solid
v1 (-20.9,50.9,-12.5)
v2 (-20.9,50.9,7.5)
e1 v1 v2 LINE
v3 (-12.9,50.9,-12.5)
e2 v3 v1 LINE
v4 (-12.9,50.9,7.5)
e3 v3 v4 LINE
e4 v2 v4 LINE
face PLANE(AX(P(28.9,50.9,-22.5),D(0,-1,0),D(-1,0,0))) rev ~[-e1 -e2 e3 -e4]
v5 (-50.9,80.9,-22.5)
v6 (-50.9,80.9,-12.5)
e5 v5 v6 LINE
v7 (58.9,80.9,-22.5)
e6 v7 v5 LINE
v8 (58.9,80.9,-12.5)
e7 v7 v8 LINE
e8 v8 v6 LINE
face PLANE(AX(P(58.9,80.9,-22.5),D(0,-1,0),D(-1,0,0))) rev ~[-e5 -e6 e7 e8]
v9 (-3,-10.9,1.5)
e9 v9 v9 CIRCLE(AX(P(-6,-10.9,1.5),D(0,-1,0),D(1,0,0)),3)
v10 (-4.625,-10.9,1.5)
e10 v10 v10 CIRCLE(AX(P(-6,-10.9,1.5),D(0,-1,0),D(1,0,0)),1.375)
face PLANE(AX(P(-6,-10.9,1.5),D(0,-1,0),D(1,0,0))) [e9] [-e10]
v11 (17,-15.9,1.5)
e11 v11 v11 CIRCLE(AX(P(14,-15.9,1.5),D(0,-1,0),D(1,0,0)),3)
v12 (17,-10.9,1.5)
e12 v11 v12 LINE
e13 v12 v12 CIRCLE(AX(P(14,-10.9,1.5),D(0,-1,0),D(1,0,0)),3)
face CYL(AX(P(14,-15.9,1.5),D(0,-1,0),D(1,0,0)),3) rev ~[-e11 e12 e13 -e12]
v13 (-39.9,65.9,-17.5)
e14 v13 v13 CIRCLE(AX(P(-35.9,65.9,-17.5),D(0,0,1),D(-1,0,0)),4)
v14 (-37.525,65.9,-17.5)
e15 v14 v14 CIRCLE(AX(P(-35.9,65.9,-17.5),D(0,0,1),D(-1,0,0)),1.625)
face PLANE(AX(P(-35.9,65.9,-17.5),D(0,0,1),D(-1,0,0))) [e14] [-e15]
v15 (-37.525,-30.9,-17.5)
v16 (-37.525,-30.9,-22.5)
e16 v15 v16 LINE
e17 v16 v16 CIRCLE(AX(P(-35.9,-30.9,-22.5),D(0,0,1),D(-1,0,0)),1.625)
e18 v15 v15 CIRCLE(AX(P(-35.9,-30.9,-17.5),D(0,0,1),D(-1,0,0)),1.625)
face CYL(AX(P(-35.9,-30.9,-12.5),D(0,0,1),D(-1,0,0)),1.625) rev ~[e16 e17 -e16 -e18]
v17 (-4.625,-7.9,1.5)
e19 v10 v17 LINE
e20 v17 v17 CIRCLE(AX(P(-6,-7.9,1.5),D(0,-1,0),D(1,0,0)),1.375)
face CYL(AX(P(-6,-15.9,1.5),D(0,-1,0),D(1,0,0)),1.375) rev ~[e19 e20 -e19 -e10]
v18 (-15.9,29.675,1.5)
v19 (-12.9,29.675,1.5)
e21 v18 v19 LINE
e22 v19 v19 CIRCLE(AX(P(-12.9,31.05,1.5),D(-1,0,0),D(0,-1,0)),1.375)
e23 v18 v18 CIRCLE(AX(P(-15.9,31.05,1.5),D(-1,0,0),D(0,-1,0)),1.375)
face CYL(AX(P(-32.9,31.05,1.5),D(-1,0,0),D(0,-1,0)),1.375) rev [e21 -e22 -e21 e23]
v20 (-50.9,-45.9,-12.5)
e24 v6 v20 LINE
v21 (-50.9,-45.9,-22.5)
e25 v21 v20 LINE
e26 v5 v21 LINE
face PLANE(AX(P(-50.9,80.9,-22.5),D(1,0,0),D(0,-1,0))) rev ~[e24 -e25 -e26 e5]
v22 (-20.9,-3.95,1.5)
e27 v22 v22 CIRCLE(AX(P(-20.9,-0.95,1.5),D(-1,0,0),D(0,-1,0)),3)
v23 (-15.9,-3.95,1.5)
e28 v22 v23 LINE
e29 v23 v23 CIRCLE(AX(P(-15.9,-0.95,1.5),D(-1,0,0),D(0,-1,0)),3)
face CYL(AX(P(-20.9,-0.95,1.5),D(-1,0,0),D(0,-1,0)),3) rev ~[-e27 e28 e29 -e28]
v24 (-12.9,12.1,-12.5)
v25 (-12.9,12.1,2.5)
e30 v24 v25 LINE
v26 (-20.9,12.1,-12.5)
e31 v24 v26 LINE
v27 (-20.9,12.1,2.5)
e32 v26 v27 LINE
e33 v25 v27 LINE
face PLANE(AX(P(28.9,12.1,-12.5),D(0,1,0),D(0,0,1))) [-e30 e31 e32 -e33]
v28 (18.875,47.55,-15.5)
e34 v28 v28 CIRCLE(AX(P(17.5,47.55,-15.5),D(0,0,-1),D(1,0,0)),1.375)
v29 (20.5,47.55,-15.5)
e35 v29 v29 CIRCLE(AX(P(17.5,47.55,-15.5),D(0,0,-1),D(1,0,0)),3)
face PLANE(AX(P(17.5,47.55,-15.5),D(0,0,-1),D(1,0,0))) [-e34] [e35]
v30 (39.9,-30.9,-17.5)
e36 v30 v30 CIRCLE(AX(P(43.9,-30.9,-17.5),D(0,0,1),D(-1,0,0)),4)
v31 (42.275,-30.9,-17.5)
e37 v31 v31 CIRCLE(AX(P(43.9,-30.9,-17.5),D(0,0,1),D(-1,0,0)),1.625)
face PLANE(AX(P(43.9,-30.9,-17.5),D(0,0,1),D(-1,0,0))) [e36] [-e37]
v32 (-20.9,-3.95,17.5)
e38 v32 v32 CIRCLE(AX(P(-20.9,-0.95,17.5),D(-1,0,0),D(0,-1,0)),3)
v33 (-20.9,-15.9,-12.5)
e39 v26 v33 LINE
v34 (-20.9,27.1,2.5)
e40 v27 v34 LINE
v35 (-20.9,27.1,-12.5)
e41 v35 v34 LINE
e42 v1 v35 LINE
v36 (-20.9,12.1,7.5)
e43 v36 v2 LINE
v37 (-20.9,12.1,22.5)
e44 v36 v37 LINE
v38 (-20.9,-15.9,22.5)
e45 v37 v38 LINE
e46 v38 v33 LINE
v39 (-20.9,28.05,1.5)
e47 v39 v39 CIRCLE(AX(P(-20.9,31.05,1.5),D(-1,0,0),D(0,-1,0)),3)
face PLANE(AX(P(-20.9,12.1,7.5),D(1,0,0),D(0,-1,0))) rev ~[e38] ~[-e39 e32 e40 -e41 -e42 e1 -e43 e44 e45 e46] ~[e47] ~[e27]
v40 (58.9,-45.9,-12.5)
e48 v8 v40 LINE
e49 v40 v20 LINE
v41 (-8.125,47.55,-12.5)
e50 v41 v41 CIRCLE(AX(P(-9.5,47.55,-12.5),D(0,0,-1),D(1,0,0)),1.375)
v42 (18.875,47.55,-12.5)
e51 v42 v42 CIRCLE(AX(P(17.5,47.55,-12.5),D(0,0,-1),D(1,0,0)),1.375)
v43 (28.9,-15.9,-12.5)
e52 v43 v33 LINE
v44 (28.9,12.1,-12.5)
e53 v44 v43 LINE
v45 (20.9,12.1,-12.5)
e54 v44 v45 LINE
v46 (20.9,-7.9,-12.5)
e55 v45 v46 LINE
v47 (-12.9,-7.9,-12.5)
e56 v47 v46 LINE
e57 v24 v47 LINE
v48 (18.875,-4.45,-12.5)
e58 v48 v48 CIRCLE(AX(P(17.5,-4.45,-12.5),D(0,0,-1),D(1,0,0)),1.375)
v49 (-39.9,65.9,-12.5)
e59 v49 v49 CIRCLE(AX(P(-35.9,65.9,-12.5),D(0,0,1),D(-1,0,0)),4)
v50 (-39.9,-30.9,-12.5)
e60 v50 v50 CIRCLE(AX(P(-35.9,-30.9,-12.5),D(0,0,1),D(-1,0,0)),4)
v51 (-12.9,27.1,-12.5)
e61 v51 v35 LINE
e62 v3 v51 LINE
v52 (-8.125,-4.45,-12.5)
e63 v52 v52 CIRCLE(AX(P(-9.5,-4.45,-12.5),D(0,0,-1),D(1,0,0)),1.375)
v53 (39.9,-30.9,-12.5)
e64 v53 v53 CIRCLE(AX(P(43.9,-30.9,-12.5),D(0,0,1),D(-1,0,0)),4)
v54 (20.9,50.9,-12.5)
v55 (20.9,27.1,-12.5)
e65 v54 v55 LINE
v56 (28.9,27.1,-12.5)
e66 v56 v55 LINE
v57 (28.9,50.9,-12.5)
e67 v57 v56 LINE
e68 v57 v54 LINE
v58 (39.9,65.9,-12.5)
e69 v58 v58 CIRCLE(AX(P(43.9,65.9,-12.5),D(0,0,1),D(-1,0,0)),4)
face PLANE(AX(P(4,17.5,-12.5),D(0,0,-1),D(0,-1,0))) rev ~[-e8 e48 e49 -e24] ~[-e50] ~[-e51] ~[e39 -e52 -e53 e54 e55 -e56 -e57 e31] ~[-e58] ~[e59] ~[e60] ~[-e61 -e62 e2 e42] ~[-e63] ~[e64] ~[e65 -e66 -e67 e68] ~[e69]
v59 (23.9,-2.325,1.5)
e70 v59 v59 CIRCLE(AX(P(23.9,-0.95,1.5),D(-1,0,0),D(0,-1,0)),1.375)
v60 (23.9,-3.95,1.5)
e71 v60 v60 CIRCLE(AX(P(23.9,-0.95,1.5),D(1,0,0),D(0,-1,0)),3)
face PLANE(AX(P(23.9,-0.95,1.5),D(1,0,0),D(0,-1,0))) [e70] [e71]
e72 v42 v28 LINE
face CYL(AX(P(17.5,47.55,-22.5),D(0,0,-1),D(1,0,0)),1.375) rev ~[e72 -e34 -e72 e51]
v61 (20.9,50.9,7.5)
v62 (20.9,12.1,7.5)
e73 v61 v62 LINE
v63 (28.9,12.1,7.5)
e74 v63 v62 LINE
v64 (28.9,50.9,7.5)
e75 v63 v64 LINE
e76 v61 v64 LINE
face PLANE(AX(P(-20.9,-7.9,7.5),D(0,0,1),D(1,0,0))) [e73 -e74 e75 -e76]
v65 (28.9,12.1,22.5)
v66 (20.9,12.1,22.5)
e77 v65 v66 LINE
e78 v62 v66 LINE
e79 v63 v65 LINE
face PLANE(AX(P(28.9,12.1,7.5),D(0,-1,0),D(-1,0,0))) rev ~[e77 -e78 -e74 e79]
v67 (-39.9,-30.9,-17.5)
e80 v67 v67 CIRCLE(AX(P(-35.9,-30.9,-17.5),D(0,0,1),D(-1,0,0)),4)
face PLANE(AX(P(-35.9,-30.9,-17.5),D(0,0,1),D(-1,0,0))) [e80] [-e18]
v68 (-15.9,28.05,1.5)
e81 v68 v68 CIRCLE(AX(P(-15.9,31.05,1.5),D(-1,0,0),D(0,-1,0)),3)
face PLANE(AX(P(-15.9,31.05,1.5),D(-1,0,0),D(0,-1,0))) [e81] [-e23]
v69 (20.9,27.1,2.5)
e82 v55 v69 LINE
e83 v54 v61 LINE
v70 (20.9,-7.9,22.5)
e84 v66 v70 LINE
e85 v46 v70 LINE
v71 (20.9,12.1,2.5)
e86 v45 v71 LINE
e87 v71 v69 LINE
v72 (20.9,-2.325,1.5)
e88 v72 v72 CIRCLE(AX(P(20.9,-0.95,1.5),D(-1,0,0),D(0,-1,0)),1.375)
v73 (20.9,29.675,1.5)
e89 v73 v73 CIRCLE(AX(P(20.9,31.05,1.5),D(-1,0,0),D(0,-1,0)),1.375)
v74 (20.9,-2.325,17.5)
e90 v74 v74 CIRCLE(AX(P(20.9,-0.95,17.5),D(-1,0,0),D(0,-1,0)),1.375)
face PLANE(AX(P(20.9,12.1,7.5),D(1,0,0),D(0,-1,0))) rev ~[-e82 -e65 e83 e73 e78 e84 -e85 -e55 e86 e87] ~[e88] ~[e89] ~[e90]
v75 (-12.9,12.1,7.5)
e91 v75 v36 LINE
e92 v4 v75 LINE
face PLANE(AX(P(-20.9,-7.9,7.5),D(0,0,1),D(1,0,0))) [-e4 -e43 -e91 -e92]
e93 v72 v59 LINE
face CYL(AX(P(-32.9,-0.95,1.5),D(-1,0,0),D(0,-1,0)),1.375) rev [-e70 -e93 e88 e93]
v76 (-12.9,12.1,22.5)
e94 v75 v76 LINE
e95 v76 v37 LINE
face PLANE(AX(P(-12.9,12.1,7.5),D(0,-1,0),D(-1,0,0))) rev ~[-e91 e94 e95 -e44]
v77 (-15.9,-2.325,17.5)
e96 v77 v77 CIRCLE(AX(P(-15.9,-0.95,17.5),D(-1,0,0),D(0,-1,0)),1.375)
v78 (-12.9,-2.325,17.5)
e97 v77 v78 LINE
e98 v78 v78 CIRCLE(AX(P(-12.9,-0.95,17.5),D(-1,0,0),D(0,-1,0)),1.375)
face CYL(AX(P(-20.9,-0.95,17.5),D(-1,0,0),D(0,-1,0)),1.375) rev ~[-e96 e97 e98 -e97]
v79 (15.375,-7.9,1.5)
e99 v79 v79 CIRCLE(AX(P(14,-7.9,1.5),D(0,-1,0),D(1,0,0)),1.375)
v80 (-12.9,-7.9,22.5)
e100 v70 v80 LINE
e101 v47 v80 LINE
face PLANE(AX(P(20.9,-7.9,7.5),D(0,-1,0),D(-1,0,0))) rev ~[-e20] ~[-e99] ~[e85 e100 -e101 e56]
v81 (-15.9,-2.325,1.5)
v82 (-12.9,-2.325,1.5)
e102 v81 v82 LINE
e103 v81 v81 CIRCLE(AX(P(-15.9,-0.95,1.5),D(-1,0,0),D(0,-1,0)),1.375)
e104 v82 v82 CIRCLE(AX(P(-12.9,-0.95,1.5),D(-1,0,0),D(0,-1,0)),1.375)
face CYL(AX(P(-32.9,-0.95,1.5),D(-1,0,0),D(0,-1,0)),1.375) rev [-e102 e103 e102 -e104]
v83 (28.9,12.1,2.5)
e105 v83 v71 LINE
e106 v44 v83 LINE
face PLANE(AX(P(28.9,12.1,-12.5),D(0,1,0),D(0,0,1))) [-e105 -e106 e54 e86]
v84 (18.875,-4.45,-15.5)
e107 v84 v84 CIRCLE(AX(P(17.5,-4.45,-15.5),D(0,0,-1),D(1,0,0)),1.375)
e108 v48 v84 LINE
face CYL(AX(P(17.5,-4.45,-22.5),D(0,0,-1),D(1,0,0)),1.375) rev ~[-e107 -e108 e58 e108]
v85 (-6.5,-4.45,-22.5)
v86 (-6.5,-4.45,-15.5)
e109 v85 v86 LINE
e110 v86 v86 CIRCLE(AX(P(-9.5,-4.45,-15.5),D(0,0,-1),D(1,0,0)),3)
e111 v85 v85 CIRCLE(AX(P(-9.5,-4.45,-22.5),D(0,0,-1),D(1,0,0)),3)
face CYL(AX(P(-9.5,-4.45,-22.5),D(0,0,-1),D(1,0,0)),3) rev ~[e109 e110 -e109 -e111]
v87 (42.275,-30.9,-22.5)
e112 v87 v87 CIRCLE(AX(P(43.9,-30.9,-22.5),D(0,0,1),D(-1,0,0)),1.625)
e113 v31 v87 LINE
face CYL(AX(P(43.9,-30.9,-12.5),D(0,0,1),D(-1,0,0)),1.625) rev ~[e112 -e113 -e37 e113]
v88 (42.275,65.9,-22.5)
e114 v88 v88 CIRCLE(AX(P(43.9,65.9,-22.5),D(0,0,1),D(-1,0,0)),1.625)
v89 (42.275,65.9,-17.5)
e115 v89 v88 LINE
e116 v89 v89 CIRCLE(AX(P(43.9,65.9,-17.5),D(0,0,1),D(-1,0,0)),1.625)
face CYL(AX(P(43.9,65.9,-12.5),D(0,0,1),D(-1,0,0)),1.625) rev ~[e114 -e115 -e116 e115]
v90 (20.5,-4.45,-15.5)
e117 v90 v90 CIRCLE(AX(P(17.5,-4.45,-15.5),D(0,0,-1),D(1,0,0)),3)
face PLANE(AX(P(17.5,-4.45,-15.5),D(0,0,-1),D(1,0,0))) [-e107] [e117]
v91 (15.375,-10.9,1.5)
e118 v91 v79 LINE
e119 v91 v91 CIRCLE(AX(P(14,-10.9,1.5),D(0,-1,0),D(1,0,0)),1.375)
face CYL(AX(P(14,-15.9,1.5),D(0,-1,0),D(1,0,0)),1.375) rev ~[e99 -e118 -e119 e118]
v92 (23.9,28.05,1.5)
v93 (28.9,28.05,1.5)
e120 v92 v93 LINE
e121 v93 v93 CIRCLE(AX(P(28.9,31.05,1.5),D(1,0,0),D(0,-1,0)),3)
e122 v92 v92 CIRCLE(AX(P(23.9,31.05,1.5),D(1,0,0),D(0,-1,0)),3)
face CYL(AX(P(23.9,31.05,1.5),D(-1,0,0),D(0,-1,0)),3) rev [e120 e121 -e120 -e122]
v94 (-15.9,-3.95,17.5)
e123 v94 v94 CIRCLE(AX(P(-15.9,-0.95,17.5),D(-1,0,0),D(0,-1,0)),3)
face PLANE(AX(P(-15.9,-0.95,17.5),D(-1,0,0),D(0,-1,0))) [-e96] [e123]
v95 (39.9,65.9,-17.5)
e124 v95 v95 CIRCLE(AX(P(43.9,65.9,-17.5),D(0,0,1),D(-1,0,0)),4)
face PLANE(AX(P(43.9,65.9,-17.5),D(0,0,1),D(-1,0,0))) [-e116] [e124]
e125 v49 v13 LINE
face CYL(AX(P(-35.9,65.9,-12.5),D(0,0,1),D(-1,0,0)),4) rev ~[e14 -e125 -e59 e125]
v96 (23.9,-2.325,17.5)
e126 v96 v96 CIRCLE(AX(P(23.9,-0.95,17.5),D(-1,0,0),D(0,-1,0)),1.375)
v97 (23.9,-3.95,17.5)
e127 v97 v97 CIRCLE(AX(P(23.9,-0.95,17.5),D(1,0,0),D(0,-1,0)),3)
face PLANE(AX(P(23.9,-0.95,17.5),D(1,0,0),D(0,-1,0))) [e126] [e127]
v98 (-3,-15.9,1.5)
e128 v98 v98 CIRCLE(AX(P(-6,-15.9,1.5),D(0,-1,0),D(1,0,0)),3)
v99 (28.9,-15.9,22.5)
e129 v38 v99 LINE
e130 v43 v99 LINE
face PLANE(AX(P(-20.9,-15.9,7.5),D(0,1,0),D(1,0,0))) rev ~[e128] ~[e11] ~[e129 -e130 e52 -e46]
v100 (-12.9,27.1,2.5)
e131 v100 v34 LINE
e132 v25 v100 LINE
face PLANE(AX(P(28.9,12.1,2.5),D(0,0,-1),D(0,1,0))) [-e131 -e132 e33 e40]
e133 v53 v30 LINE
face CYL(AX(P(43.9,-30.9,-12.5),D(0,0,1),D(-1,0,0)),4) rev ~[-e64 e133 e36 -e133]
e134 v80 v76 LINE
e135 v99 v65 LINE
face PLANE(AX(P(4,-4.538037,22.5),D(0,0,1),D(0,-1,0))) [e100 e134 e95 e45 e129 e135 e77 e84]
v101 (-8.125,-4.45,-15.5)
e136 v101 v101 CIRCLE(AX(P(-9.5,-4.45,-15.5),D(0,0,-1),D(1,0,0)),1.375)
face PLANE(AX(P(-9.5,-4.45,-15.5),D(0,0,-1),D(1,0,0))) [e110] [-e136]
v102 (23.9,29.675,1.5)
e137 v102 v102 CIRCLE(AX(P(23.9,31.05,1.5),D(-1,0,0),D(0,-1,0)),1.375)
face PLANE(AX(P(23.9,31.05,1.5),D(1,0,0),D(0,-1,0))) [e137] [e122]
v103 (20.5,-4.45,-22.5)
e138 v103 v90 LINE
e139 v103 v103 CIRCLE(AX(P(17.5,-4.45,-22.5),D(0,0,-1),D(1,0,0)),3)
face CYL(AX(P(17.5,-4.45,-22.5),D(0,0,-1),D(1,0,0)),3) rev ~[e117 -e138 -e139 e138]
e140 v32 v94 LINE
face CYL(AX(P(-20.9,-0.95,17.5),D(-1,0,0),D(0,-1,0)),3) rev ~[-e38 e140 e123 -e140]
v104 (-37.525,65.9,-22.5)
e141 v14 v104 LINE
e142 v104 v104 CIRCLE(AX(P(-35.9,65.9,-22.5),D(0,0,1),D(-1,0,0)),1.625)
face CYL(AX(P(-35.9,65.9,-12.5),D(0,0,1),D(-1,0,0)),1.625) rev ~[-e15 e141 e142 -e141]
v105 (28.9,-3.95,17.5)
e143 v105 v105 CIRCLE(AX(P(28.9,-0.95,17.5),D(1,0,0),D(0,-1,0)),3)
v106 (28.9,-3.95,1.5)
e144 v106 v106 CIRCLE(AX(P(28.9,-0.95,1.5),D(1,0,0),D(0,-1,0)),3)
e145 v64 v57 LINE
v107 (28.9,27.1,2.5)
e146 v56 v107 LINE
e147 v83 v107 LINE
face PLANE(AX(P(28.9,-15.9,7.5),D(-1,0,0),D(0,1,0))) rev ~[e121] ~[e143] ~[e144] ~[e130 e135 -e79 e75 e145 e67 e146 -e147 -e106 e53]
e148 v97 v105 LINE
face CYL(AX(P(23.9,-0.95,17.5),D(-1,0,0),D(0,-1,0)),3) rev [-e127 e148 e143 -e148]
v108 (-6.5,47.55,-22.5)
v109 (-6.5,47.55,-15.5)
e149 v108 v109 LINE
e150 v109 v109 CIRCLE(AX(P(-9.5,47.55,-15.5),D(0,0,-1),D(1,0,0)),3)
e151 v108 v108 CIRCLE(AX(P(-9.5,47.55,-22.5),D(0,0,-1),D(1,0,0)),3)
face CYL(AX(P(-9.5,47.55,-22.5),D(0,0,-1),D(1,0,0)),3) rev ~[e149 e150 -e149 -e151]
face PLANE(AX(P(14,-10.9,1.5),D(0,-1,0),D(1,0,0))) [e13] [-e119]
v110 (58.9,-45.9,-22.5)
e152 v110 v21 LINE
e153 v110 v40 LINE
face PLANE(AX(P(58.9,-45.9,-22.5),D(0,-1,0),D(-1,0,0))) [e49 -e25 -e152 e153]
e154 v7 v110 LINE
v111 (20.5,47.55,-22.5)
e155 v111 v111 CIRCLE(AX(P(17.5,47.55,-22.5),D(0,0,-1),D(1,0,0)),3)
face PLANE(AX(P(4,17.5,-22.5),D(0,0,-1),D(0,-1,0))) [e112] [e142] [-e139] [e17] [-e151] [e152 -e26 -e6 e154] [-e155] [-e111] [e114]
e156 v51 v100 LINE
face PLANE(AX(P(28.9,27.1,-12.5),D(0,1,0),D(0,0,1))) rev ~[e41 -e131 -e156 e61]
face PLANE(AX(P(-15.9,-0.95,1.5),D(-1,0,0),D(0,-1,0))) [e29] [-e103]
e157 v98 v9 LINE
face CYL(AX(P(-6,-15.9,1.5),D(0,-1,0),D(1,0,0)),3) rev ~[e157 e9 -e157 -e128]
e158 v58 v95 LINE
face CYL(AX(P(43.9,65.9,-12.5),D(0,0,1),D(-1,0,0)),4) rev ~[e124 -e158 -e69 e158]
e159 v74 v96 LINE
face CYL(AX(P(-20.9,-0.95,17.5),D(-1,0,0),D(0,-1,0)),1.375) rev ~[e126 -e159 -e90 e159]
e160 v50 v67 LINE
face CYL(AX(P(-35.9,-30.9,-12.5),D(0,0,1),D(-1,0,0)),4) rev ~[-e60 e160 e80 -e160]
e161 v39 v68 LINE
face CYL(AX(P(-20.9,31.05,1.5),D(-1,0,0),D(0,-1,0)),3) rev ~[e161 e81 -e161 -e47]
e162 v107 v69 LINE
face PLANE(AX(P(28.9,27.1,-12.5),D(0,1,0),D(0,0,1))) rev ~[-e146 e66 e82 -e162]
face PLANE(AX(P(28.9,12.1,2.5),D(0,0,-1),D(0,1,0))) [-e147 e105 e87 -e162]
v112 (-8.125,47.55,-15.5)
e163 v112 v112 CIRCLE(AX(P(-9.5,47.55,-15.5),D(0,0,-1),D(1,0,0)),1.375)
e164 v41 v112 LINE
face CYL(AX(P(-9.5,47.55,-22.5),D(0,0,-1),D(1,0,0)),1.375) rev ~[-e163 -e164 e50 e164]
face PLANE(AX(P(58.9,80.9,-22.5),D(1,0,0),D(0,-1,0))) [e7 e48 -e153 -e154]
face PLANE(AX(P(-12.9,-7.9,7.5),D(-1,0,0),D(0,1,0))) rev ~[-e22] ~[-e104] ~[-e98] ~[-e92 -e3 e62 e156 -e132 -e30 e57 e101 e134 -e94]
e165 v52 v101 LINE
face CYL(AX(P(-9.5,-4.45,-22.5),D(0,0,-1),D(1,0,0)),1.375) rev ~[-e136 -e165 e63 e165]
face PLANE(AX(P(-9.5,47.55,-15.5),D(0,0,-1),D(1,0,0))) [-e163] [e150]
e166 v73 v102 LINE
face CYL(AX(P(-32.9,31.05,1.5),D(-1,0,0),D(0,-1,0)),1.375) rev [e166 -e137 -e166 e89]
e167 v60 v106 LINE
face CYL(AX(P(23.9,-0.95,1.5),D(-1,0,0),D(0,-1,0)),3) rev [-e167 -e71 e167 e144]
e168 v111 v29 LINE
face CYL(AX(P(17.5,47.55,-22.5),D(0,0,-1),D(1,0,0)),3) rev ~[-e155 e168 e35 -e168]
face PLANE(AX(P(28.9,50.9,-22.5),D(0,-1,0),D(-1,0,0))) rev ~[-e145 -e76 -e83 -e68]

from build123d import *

# Parameters (mm, degrees)
SKETCH1_W               = 58.8
SKETCH1_H               = 8
BOSS_EXTRUDE1_DEPTH     = 25
BOSS_EXTRUDE1_2_DEPTH   = 25
SKETCH1_3_W             = 58.8
SKETCH1_3_H             = 33.8
BOSS_EXTRUDE2_DEPTH     = 5
SKETCH2_R               = 1.375
CUT_EXTRUDE1_DEPTH      = 5
CUT_EXTRUDE2_DEPTH      = 74
CUT_EXTRUDE2_DEPTH_BACK = 20
SKETCH3_R               = 1.375
SKETCH4_W               = 15
SKETCH4_H               = 15
CUT_EXTRUDE3_DEPTH      = 75
SKETCH5_W               = 49.8
SKETCH5_H               = 25
BOSS_EXTRUDE3_DEPTH     = 8
SKETCH6_R               = 1.375
CUT_EXTRUDE4_DEPTH      = 16
BOSS_EXTRUDE4_START     = 5
SKETCH7_W               = 66.8
SKETCH7_H               = 49.8
SKETCH7_R               = 1.375
BOSS_EXTRUDE4_DEPTH     = 5
SKETCH8_W               = 126.8
SKETCH8_H               = 109.8
SKETCH8_W_2             = 66.8
SKETCH8_H_2             = 49.8
BOSS_EXTRUDE5_DEPTH     = 10
BOSS_EXTRUDE6_DEPTH     = 15
SKETCH11_R              = 1.375
CUT_EXTRUDE5_DEPTH      = 55
SKETCH12_R              = 1.625
CUT_EXTRUDE6_DEPTH      = 55
SKETCH13_R              = 3
CUT_EXTRUDE7_DEPTH      = 5
CUT_EXTRUDE8_START      = -5
SKETCH14_R              = 3
CUT_EXTRUDE8_DEPTH      = 5
SKETCH15_R              = 3
CUT_EXTRUDE9_DEPTH      = 7
SKETCH16_R              = 4
CUT_EXTRUDE10_DEPTH     = 5
SKETCH17_R              = 3
CUT_EXTRUDE11_DEPTH     = 5
BODY_MOVE_COPY1_ANGLE   = 120


with BuildPart() as part:
    # Sketch1 → Boss-Extrude1 (new body)
    with BuildSketch(Plane(origin=(0, 0, 0), x_dir=(1, 0, 0), z_dir=(0, 1, 0))):
        with Locations((0, -20.9)):
            Rectangle(SKETCH1_W, SKETCH1_H)
    extrude(amount=BOSS_EXTRUDE1_DEPTH)



with BuildPart() as body_2:
    # Sketch1 → Boss-Extrude1 2 (new body)
    with BuildSketch(Plane(origin=(0, 0, 0), x_dir=(1, 0, 0), z_dir=(0, 1, 0))):
        with Locations((0, 20.9)):
            Rectangle(SKETCH1_W, SKETCH1_H)
    extrude(amount=BOSS_EXTRUDE1_2_DEPTH)


with BuildPart() as part_1:
    add(part.part)

    add(body_2.part)  # Boss-Extrude2 merges body 2
    # Sketch1<3> → Boss-Extrude2 (add)
    with BuildSketch(Plane(origin=(0, 0, 0), x_dir=(1, 0, 0), z_dir=(0, 1, 0))):
        Rectangle(SKETCH1_3_W, SKETCH1_3_H)
    extrude(amount=BOSS_EXTRUDE2_DEPTH)

    # Sketch2 → Cut-Extrude1 (cut)
    with BuildSketch(Plane.XZ):
        with Locations((-26.05, 13.5)):
            Circle(SKETCH2_R)
        with Locations((-26.05, -13.5)):
            Circle(SKETCH2_R)
        with Locations((25.95, -13.5)):
            Circle(SKETCH2_R)
        with Locations((25.95, 13.5)):
            Circle(SKETCH2_R)
    extrude(amount=-CUT_EXTRUDE1_DEPTH, mode=Mode.SUBTRACT)

    # Sketch3 → Cut-Extrude2 (cut, two sides: drawn at the far end of the back side and taken through both)
    with BuildSketch(Plane(origin=(0, 0, 16.9), x_dir=(-1, 0, 0), z_dir=(0, 0, -1)).offset(-CUT_EXTRUDE2_DEPTH_BACK)):
        with Locations((-22.45, 19)):
            Circle(SKETCH3_R)
        with Locations((9.55, 19)):
            Circle(SKETCH3_R)
    extrude(amount=CUT_EXTRUDE2_DEPTH + CUT_EXTRUDE2_DEPTH_BACK, mode=Mode.SUBTRACT)

    # Sketch4 → Cut-Extrude3 (cut)
    with BuildSketch(Plane(origin=(0, 0, -24.9), x_dir=(-1, 0, 0), z_dir=(0, 0, -1))):
        with Locations((-1.9, 12.5)):
            Rectangle(SKETCH4_W, SKETCH4_H)
    extrude(amount=-CUT_EXTRUDE3_DEPTH, mode=Mode.SUBTRACT)

    # Sketch5 → Boss-Extrude3 (add)
    with BuildSketch(Plane(origin=(29.4, 0, 0), x_dir=(0, 0, -1), z_dir=(1, 0, 0))):
        with Locations((0, 12.5)):
            Rectangle(SKETCH5_W, SKETCH5_H)
    extrude(amount=BOSS_EXTRUDE3_DEPTH)

    # Sketch6 → Cut-Extrude4 (cut)
    with BuildSketch(Plane(origin=(37.4, 0, 0), x_dir=(0, 0, -1), z_dir=(1, 0, 0))):
        with Locations((-10, 19)):
            Circle(SKETCH6_R)
        with Locations((10, 19)):
            Circle(SKETCH6_R)
    extrude(amount=-CUT_EXTRUDE4_DEPTH, mode=Mode.SUBTRACT)

    # Sketch7 → Boss-Extrude4 (add)
    with BuildSketch(Plane.XZ.offset(BOSS_EXTRUDE4_START)):
        with Locations((4, 0)):
            Rectangle(SKETCH7_W, SKETCH7_H)
        with Locations((-26.05, 13.5)):
            Circle(SKETCH7_R, mode=Mode.SUBTRACT)
        with Locations((25.95, 13.5)):
            Circle(SKETCH7_R, mode=Mode.SUBTRACT)
        with Locations((25.95, -13.5)):
            Circle(SKETCH7_R, mode=Mode.SUBTRACT)
        with Locations((-26.05, -13.5)):
            Circle(SKETCH7_R, mode=Mode.SUBTRACT)
    extrude(amount=-BOSS_EXTRUDE4_DEPTH)

    # Sketch8 → Boss-Extrude5 (add)
    with BuildSketch(Plane.XZ.offset(5)):
        with Locations((4, 0)):
            Rectangle(SKETCH8_W, SKETCH8_H)
        with Locations((4, 0)):
            Rectangle(SKETCH8_W_2, SKETCH8_H_2, mode=Mode.SUBTRACT)
    extrude(amount=-BOSS_EXTRUDE5_DEPTH)

    # Sketch9 → Boss-Extrude6 (add)
    with BuildSketch(Plane(origin=(0, 25, 0), x_dir=(1, 0, 0), z_dir=(0, 1, 0))):
        Polygon((37.4, -24.9), (37.4, 24.9), (9.4, 24.9), (9.4, 16.9), (29.4, 16.9), (29.4, -16.9), (9.4, -16.9), (9.4, -24.9), align=None)
    extrude(amount=BOSS_EXTRUDE6_DEPTH)

    # Sketch11 → Cut-Extrude5 (cut)
    with BuildSketch(Plane.XY.offset(24.9)):
        with Locations((22.45, 35)):
            Circle(SKETCH11_R)
    extrude(amount=-CUT_EXTRUDE5_DEPTH, mode=Mode.SUBTRACT)

    # Sketch12 → Cut-Extrude6 (cut)
    with BuildSketch(Plane(origin=(0, 5, 0), x_dir=(1, 0, 0), z_dir=(0, 1, 0))):
        with Locations((-44.4, 39.9)):
            Circle(SKETCH12_R)
        with Locations((52.4, 39.9)):
            Circle(SKETCH12_R)
        with Locations((52.4, -39.9)):
            Circle(SKETCH12_R)
        with Locations((-44.4, -39.9)):
            Circle(SKETCH12_R)
    extrude(amount=-CUT_EXTRUDE6_DEPTH, mode=Mode.SUBTRACT)

    # Sketch13 → Cut-Extrude7 (cut)
    with BuildSketch(Plane.XY.offset(24.9)):
        with Locations((-9.55, 19)):
            Circle(SKETCH13_R)
        with Locations((22.45, 35)):
            Circle(SKETCH13_R)
        with Locations((22.45, 19)):
            Circle(SKETCH13_R)
    extrude(amount=-CUT_EXTRUDE7_DEPTH, mode=Mode.SUBTRACT)

    # Sketch14 → Cut-Extrude8 (cut)
    with BuildSketch(Plane(origin=(0, 0, -24.9), x_dir=(-1, 0, 0), z_dir=(0, 0, -1)).offset(CUT_EXTRUDE8_START)):
        with Locations((-22.45, 35)):
            Circle(SKETCH14_R)
        with Locations((-22.45, 19)):
            Circle(SKETCH14_R)
        with Locations((9.55, 19)):
            Circle(SKETCH14_R)
    extrude(amount=CUT_EXTRUDE8_DEPTH, mode=Mode.SUBTRACT)

    # Sketch15 → Cut-Extrude9 (cut)
    with BuildSketch(Plane.XZ.offset(5)):
        with Locations((-26.05, 13.5)):
            Circle(SKETCH15_R)
        with Locations((25.95, 13.5)):
            Circle(SKETCH15_R)
        with Locations((25.95, -13.5)):
            Circle(SKETCH15_R)
        with Locations((-26.05, -13.5)):
            Circle(SKETCH15_R)
    extrude(amount=-CUT_EXTRUDE9_DEPTH, mode=Mode.SUBTRACT)

    # Sketch16 → Cut-Extrude10 (cut)
    with BuildSketch(Plane(origin=(0, 5, 0), x_dir=(1, 0, 0), z_dir=(0, 1, 0))):
        with Locations((-44.4, 39.9)):
            Circle(SKETCH16_R)
        with Locations((52.4, 39.9)):
            Circle(SKETCH16_R)
        with Locations((52.4, -39.9)):
            Circle(SKETCH16_R)
        with Locations((-44.4, -39.9)):
            Circle(SKETCH16_R)
    extrude(amount=-CUT_EXTRUDE10_DEPTH, mode=Mode.SUBTRACT)

    # Sketch17 → Cut-Extrude11 (cut)
    with BuildSketch(Plane(origin=(37.4, 0, 0), x_dir=(0, 0, -1), z_dir=(1, 0, 0))):
        with Locations((-10, 19)):
            Circle(SKETCH17_R)
        with Locations((10, 19)):
            Circle(SKETCH17_R)
    extrude(amount=-CUT_EXTRUDE11_DEPTH, mode=Mode.SUBTRACT)


with BuildPart() as part_2:
    # Body-Move/Copy1: moved
    add(part_1.part.moved(Location((0, 0, 0))).rotate(Axis((8.5, 13, -4.5), (0.5773502691896252, -0.5773502691896272, -0.5773502691896252)), BODY_MOVE_COPY1_ANGLE))


solid = part_2.part
